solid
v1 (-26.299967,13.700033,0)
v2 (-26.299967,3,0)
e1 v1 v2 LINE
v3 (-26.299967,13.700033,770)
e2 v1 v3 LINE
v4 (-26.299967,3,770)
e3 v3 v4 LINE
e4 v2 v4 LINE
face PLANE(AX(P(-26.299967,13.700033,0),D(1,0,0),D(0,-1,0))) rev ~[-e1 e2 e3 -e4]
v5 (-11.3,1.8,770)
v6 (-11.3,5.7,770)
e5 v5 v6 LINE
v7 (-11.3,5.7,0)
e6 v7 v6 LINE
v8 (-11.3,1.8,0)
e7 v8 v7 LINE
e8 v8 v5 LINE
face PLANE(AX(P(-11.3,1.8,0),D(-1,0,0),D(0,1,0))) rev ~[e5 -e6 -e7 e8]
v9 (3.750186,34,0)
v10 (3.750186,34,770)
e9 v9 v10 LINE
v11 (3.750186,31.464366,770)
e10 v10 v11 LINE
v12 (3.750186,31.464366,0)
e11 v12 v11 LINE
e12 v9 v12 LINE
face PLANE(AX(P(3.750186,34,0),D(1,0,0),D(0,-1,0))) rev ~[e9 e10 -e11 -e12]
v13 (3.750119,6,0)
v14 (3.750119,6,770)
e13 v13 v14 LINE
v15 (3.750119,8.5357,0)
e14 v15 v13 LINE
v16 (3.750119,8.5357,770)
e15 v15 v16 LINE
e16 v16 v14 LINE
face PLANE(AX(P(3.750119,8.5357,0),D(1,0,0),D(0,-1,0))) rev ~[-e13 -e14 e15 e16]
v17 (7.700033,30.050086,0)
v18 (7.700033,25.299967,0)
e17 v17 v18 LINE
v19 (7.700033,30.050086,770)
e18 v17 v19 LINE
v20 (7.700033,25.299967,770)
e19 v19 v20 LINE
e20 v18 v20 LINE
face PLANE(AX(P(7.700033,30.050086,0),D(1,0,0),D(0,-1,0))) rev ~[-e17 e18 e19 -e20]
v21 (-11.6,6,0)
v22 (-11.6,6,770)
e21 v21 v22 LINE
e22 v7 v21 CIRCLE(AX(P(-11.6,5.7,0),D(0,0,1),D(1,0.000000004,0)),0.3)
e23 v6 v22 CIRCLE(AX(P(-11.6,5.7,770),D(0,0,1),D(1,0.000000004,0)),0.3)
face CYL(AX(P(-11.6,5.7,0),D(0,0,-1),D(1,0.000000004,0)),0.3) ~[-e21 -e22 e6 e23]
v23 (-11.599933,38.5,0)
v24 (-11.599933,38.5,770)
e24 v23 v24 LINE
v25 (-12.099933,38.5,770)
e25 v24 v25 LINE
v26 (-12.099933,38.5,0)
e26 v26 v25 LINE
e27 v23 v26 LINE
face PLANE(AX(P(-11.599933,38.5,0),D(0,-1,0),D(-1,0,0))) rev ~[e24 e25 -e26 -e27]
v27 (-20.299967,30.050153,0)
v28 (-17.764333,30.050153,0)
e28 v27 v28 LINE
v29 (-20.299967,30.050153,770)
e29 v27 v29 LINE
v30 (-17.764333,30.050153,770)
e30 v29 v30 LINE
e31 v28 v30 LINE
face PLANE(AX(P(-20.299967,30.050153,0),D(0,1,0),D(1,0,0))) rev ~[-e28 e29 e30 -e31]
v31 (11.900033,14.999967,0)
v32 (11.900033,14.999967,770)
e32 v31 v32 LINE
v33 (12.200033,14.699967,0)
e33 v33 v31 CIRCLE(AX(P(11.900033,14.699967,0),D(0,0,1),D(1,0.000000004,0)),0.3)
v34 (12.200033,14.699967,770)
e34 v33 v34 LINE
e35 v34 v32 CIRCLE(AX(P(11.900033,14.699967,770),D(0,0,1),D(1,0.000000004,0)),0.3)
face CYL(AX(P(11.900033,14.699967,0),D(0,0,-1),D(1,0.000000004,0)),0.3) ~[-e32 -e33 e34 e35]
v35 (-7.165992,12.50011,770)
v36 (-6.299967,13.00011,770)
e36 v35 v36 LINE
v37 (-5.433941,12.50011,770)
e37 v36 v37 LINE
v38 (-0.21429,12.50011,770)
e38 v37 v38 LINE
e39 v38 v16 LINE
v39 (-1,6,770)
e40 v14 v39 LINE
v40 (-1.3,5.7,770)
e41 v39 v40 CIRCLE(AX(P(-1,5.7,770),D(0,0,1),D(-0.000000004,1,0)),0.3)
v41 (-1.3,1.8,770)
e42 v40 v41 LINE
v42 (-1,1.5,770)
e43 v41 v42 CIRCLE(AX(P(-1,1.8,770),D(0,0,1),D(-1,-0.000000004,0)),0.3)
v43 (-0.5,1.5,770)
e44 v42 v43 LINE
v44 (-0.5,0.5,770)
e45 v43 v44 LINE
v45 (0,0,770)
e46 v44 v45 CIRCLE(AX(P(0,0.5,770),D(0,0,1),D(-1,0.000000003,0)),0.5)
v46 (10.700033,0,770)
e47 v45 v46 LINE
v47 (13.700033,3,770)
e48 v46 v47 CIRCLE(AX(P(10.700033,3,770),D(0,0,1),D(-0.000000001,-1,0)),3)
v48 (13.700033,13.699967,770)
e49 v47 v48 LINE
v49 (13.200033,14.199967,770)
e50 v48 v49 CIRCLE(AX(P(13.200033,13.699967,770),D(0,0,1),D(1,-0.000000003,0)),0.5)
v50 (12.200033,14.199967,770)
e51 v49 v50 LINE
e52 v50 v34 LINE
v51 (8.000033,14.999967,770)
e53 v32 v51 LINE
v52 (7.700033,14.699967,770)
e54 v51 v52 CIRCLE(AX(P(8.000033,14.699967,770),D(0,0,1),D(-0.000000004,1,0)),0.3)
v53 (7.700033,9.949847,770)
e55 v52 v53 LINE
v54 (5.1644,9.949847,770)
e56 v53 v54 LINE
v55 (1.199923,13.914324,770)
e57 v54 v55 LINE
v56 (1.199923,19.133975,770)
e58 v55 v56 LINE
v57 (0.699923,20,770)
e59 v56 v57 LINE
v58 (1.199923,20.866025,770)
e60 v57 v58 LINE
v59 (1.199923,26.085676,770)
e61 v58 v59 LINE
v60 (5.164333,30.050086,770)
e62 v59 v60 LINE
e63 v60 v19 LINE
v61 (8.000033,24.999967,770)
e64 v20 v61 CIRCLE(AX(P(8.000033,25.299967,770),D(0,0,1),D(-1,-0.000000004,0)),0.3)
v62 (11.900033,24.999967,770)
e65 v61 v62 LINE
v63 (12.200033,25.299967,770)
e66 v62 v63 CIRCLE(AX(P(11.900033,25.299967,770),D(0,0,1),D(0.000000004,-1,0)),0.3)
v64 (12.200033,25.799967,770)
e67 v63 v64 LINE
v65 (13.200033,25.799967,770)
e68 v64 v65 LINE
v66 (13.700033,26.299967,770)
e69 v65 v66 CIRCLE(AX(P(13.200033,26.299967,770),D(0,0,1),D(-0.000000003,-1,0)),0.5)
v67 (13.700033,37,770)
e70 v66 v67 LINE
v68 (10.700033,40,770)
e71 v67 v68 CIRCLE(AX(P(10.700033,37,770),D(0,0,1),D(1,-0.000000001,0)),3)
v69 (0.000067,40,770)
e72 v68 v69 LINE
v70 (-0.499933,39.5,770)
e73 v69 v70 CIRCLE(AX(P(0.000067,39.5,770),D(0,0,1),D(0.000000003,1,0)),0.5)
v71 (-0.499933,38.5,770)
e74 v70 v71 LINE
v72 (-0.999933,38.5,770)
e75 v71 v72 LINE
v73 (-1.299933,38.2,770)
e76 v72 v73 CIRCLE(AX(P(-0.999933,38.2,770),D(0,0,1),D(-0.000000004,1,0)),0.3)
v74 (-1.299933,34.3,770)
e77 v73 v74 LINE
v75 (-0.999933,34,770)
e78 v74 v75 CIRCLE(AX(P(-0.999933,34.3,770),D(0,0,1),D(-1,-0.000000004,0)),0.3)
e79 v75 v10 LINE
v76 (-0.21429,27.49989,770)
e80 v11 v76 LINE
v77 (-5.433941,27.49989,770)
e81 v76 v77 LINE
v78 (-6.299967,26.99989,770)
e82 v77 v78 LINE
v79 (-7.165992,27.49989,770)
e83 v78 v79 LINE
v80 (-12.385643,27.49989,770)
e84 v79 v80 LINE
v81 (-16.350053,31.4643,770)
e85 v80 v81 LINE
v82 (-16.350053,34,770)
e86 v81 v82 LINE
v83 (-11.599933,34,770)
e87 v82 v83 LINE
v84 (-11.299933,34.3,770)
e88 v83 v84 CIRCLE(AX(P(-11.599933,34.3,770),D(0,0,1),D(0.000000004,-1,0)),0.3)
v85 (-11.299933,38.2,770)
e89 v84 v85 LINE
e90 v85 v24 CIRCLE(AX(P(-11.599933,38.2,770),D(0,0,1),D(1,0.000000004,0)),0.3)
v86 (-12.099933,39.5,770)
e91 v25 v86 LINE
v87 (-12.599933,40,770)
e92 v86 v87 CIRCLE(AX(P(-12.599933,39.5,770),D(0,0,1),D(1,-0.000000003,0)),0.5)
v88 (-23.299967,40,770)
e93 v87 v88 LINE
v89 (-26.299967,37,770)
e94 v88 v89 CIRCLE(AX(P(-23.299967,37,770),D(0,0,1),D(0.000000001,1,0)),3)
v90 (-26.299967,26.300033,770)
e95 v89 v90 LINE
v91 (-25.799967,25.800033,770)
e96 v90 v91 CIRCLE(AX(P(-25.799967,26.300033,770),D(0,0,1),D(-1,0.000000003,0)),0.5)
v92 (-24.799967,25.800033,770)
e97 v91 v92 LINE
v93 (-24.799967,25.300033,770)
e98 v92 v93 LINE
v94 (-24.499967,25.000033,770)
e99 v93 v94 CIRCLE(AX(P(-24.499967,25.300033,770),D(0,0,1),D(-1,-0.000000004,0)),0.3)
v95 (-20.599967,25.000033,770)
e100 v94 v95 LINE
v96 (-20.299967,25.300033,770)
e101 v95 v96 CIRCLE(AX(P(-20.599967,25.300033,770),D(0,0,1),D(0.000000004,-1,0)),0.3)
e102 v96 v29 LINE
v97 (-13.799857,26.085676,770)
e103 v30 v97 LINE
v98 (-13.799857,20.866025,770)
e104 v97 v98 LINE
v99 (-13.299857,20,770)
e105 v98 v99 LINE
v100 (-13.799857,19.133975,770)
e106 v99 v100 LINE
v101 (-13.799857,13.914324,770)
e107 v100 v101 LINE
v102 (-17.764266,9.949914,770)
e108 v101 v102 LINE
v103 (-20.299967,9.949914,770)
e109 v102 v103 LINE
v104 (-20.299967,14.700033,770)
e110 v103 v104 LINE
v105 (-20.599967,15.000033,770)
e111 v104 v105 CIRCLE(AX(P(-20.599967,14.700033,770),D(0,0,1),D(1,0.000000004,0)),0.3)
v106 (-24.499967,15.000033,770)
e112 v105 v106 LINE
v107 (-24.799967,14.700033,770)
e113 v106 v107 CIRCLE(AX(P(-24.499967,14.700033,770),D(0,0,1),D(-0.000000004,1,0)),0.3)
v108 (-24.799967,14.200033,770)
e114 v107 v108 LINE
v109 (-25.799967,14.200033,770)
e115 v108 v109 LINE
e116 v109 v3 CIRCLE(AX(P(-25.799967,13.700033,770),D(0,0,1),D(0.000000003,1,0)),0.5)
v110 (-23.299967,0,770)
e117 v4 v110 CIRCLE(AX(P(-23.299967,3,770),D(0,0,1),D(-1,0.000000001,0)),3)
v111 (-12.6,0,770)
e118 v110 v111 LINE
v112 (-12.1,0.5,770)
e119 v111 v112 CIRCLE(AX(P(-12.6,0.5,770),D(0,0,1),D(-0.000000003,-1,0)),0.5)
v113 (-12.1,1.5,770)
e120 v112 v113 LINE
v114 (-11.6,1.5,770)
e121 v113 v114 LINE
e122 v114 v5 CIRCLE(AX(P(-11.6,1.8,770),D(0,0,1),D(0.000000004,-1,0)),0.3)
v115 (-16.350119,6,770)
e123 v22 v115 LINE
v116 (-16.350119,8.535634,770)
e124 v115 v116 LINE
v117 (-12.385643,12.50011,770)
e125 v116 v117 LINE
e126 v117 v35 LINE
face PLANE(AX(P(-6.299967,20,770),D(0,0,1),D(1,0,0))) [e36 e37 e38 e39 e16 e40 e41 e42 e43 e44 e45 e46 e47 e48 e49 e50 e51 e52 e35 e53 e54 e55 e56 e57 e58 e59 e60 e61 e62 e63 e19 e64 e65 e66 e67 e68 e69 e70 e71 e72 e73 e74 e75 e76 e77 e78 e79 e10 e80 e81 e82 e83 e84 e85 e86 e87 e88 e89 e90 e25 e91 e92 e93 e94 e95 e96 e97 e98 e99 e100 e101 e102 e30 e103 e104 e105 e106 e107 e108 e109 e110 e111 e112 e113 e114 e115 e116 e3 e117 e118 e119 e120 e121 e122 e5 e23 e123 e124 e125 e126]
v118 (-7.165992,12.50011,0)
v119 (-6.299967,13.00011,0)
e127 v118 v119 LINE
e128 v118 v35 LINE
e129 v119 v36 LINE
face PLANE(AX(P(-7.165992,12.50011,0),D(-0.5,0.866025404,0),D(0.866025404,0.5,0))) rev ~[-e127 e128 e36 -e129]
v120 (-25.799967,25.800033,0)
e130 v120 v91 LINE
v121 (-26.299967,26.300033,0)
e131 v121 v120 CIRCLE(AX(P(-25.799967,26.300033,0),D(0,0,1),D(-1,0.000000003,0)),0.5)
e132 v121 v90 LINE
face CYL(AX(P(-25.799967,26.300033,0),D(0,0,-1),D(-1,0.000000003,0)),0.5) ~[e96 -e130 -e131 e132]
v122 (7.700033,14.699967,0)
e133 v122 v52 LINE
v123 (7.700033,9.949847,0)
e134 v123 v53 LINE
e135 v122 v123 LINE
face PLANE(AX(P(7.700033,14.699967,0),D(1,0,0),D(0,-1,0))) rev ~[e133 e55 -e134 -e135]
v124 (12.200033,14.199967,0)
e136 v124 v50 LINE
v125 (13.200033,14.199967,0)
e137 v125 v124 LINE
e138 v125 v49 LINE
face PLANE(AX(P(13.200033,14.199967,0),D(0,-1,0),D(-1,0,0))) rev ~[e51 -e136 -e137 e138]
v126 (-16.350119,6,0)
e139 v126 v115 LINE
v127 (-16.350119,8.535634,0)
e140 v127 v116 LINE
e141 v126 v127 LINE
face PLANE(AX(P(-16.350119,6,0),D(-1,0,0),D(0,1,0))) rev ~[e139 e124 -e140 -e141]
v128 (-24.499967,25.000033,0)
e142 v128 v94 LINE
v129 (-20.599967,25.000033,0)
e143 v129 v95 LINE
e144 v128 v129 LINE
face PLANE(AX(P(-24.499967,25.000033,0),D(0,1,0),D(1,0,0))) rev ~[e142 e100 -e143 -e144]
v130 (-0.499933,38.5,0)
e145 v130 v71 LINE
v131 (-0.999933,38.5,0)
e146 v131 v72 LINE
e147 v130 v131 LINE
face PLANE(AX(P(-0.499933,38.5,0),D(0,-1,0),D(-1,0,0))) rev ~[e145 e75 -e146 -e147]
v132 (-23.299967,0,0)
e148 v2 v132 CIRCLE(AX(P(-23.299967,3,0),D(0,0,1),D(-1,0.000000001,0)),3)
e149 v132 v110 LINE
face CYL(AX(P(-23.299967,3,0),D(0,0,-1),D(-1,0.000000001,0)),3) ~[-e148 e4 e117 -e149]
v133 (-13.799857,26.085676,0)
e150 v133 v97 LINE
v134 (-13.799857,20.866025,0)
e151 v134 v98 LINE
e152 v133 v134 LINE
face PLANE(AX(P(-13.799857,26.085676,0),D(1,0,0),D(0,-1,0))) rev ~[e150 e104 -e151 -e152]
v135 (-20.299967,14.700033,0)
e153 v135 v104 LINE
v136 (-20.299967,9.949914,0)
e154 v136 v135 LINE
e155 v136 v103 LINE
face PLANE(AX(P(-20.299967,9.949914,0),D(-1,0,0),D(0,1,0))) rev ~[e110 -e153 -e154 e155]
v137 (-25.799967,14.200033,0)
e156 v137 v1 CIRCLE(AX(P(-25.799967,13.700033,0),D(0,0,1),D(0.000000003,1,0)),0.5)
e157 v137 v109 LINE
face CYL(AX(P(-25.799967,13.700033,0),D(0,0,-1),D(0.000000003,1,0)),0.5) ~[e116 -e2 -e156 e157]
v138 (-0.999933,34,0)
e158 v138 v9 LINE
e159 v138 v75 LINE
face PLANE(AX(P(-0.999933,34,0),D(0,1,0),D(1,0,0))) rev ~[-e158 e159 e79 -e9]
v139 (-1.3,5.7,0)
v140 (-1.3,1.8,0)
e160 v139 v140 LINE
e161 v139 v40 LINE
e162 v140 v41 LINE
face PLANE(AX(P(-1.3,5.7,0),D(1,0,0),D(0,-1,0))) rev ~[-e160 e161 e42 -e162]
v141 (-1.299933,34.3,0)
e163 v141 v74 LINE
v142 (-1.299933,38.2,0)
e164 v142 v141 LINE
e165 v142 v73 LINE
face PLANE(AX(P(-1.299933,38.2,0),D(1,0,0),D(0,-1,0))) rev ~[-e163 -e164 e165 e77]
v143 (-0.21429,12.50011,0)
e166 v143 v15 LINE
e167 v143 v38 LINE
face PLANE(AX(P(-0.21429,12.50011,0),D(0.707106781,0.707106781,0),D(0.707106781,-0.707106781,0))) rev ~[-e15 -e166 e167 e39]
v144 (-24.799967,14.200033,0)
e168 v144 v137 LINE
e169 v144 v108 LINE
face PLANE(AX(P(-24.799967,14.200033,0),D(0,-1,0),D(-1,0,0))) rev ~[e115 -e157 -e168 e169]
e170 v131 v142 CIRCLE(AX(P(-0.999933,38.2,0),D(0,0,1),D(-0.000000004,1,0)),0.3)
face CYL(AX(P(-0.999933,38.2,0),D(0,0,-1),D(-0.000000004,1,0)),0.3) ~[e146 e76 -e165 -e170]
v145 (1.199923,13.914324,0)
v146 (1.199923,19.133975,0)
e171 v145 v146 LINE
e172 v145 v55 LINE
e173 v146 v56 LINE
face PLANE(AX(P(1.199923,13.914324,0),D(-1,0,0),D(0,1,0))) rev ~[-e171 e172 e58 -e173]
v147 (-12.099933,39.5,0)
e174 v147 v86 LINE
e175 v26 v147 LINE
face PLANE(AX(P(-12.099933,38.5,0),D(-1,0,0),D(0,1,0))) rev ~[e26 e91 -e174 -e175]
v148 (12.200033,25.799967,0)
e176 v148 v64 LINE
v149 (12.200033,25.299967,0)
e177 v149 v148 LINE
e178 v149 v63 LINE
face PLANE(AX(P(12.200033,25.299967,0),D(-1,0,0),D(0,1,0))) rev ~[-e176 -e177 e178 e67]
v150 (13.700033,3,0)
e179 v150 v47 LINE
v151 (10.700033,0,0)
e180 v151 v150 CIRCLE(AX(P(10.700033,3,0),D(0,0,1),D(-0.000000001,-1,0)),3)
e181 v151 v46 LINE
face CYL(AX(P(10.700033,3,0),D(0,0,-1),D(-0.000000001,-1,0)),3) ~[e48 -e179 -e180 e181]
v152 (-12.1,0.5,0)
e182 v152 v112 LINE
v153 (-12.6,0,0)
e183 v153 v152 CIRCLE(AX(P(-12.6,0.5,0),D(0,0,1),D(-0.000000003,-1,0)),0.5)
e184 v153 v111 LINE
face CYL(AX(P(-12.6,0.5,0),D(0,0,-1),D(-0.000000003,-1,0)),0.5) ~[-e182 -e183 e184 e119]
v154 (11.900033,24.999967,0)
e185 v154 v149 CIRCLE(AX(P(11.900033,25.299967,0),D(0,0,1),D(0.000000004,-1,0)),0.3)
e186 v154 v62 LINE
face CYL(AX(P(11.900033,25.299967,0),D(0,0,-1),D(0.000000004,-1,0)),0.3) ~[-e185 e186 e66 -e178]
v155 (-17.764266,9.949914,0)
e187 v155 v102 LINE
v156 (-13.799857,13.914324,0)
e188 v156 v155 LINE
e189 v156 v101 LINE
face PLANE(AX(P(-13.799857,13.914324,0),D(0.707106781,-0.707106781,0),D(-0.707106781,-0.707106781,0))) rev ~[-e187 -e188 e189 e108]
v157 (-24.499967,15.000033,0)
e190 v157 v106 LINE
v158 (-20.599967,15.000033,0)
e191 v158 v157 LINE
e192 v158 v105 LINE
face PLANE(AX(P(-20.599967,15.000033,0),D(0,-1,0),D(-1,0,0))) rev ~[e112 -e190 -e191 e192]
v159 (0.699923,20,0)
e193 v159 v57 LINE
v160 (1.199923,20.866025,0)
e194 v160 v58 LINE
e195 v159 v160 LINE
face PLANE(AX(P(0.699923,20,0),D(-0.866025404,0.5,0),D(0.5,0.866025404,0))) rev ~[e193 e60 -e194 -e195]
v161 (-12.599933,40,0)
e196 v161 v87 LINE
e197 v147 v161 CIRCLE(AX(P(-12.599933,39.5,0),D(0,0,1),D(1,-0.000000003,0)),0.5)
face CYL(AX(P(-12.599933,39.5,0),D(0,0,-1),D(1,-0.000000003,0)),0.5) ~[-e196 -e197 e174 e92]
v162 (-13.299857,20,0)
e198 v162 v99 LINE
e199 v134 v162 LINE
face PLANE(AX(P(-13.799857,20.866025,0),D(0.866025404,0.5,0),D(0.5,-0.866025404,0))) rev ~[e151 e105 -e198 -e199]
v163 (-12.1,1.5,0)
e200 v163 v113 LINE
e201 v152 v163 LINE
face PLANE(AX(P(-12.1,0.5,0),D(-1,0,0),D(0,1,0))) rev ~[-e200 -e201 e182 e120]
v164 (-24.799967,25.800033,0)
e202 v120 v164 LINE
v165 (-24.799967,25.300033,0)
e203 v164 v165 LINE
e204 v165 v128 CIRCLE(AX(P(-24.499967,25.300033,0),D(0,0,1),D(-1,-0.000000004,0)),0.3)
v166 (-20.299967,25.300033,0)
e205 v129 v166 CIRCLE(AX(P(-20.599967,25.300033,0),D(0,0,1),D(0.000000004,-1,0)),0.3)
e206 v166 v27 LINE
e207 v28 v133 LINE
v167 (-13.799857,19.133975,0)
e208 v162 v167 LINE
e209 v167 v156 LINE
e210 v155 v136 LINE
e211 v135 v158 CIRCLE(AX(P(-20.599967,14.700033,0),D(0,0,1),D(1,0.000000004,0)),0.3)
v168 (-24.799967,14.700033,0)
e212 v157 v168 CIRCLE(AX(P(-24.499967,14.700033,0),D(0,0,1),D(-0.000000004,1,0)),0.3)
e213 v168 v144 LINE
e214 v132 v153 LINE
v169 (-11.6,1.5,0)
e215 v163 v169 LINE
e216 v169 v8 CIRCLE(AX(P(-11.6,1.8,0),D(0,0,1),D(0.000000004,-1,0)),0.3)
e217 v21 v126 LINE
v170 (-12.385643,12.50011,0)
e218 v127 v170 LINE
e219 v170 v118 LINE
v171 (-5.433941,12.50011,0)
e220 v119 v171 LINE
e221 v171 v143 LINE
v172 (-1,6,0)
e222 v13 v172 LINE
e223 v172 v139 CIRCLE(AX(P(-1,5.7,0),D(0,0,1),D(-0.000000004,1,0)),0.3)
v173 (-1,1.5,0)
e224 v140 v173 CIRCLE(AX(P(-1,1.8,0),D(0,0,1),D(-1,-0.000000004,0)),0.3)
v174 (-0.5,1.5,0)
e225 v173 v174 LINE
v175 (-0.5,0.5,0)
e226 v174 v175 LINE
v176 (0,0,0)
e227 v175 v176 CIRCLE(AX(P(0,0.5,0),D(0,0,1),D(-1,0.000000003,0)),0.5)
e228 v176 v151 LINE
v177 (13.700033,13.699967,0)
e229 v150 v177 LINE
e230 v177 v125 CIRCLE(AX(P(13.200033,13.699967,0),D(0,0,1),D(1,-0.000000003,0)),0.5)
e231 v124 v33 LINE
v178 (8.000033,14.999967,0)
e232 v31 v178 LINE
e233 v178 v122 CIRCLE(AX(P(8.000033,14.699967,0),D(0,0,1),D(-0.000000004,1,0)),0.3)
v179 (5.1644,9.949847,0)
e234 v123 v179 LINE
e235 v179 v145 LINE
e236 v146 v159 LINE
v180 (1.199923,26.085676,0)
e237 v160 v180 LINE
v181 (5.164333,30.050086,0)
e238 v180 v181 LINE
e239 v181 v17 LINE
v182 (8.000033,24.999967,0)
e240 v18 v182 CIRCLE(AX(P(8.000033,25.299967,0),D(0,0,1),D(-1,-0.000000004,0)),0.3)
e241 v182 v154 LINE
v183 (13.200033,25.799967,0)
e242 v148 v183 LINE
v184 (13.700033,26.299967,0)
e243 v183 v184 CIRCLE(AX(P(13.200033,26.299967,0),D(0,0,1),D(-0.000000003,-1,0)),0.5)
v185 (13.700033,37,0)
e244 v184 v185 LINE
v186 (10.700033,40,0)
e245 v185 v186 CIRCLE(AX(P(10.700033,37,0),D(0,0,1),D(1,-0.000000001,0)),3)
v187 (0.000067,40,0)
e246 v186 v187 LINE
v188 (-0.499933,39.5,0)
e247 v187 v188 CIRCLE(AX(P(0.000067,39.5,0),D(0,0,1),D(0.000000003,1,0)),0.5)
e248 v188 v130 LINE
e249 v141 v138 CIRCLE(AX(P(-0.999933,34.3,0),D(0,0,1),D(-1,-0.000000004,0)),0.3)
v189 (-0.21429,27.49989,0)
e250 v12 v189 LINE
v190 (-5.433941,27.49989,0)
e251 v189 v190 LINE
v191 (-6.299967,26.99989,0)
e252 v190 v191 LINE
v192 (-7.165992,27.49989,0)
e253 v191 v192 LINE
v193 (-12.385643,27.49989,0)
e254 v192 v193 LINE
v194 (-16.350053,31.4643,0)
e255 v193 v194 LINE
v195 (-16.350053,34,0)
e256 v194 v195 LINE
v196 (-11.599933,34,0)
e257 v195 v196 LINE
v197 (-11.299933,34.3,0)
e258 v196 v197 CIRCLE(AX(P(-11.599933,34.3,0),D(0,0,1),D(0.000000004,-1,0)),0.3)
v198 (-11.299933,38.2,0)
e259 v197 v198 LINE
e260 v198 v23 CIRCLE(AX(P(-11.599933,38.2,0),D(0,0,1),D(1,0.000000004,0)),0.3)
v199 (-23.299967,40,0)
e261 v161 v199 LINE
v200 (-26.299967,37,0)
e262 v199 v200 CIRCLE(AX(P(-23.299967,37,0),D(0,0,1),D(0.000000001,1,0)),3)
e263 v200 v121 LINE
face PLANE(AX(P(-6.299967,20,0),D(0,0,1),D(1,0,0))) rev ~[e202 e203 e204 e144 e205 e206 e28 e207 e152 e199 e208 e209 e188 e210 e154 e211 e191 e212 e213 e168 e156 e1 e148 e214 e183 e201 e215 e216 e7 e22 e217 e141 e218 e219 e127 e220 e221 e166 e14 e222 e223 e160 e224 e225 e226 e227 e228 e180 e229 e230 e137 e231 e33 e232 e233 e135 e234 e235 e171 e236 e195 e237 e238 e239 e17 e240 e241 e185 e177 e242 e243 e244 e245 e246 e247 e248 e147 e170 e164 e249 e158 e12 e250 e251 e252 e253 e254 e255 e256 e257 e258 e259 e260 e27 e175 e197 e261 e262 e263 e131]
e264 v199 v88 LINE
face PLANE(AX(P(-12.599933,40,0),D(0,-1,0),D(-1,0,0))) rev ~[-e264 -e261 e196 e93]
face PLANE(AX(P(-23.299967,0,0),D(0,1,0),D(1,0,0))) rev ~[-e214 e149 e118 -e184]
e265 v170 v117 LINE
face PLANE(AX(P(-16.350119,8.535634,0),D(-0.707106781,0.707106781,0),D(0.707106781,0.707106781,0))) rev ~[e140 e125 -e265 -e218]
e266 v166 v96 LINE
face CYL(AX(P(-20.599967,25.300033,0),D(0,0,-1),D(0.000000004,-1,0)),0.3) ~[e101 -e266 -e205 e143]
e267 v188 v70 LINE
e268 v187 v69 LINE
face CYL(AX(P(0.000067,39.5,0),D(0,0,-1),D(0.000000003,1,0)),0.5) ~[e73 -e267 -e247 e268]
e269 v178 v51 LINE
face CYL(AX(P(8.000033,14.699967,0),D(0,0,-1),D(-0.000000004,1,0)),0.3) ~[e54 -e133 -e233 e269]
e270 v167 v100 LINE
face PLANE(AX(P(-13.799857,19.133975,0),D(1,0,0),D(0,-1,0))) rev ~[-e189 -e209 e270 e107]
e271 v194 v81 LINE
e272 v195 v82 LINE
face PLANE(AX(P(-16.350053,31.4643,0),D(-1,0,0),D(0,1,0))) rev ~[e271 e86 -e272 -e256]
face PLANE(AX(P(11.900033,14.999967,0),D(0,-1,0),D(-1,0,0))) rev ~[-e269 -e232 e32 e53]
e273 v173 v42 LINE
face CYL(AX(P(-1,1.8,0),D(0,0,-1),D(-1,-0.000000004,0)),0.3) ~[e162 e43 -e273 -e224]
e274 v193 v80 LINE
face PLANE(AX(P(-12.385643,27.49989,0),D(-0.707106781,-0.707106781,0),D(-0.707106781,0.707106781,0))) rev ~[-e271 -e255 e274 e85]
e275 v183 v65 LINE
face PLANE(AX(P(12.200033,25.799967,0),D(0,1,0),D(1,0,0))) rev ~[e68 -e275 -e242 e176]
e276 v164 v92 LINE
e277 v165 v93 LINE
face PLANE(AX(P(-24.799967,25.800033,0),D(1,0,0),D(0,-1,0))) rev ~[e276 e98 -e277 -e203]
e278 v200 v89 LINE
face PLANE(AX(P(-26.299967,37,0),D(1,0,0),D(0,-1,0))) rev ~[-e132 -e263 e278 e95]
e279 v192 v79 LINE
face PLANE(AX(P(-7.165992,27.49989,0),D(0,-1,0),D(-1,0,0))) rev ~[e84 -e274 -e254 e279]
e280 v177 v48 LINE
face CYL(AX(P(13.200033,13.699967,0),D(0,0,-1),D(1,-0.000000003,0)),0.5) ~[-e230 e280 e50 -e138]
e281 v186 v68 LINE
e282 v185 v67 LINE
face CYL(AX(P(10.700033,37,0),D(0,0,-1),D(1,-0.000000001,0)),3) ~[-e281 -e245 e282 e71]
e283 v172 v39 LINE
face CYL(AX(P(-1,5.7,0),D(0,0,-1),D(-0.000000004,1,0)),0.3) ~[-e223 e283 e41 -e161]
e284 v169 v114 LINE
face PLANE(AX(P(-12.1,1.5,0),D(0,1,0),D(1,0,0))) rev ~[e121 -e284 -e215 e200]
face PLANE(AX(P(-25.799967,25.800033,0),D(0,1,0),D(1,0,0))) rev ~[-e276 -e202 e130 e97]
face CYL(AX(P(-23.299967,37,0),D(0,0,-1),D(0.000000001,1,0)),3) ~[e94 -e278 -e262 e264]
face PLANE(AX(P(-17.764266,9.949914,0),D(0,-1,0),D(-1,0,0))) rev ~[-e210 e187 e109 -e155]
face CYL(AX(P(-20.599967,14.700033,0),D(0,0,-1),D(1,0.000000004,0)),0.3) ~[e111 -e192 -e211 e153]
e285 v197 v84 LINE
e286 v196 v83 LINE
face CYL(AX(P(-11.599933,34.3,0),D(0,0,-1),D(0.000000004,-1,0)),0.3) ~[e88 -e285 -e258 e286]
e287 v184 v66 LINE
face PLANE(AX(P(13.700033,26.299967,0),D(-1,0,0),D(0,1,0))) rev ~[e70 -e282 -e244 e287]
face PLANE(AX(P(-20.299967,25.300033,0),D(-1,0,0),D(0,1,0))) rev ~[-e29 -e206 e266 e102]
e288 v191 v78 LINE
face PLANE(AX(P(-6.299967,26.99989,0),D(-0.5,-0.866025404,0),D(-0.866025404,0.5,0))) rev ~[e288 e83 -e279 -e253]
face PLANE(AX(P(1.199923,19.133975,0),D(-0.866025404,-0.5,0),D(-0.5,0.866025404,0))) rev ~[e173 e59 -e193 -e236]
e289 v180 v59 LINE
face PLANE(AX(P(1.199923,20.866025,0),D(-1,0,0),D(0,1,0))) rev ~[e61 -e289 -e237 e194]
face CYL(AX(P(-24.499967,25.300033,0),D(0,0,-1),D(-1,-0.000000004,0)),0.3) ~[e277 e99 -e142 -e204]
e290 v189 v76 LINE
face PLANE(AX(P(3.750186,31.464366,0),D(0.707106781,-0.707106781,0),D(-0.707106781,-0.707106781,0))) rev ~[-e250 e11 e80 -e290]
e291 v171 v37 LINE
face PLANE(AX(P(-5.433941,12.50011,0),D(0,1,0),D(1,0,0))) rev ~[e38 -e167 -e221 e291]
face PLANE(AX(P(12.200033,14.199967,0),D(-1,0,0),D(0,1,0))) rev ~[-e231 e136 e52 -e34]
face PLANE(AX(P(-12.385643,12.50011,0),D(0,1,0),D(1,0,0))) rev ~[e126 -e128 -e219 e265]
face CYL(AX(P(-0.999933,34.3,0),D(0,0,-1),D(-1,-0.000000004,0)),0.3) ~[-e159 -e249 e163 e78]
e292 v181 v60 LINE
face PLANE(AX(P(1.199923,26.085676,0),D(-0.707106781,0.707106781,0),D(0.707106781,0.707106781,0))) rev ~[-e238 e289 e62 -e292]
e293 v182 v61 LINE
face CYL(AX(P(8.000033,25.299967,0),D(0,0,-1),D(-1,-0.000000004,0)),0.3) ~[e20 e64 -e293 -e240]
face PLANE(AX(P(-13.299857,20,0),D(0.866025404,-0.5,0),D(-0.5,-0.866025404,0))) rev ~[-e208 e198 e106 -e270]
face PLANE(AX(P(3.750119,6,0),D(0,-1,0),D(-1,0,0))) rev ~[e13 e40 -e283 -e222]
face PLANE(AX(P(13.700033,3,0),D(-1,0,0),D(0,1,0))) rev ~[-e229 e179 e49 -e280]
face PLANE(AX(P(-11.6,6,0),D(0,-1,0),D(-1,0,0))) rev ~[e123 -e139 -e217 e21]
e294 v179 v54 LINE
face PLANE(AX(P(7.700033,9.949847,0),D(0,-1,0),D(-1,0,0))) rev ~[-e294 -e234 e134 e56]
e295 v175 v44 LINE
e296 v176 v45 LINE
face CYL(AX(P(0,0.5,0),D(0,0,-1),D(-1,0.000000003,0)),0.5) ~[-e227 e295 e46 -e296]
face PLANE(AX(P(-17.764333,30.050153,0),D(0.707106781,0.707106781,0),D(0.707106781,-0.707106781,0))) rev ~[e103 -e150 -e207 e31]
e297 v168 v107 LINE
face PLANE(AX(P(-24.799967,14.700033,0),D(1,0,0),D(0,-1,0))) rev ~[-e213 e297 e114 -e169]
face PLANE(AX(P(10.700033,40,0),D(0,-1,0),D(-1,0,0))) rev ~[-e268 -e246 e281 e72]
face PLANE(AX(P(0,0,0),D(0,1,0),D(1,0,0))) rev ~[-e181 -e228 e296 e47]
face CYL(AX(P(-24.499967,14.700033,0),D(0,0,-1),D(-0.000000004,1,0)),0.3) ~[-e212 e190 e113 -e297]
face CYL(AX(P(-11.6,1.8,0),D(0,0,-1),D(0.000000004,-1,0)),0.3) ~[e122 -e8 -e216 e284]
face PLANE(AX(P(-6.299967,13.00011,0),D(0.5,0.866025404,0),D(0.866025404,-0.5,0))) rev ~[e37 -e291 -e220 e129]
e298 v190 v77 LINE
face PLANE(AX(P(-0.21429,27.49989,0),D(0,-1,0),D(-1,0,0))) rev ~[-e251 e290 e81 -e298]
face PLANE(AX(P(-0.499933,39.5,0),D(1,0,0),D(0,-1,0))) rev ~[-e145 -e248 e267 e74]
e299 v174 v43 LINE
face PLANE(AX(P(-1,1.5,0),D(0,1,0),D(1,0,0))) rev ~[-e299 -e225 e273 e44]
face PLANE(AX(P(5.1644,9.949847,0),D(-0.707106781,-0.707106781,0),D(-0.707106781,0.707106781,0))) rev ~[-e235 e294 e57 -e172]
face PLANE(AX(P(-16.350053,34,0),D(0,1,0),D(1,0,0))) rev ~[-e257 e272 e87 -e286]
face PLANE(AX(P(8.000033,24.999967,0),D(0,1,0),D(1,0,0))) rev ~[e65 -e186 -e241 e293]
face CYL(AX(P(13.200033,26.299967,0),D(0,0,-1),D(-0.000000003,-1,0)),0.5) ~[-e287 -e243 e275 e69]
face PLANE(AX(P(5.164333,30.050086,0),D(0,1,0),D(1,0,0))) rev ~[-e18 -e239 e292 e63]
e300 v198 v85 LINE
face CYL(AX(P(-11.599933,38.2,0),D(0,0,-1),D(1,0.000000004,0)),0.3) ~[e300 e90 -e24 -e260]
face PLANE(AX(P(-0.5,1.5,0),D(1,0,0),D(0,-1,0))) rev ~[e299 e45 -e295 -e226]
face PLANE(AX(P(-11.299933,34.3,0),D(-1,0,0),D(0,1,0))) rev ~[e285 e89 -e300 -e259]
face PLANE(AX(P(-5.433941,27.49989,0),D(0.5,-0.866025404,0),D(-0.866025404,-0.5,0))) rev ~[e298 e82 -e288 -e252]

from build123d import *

# Parameters (mm, degrees)
BOSS_EXTRUDE1_DEPTH = 770


with BuildPart() as part:
    # Sketch2 → Boss-Extrude1 (new body)
    with BuildSketch(Plane.XY):
        with BuildLine():
            Line((-20.29996667, 9.949913991), (-20.29996667, 14.70003333))
            ThreePointArc((-20.29996667, 14.70003333), (-20.387834636, 14.912165364), (-20.59996667, 15.00003333))
            Line((-20.59996667, 15.00003333), (-24.49996667, 15.00003333))
            ThreePointArc((-24.49996667, 15.00003333), (-24.712098704, 14.912165364), (-24.79996667, 14.70003333))
            Line((-24.79996667, 14.70003333), (-24.79996667, 14.20003333))
            Line((-24.79996667, 14.20003333), (-25.79996667, 14.20003333))
            ThreePointArc((-25.79996667, 14.20003333), (-26.153520061, 14.053586721), (-26.29996667, 13.70003333))
            Line((-26.29996667, 13.70003333), (-26.29996667, 3))
            ThreePointArc((-26.29996667, 3), (-25.421287014, 0.878679656), (-23.29996667, 0))
            Line((-23.29996667, 0), (-12.6, 0))
            ThreePointArc((-12.6, 0), (-12.246446609, 0.146446609), (-12.1, 0.5))
            Line((-12.1, 0.5), (-12.1, 1.5))
            Line((-12.1, 1.5), (-11.6, 1.5))
            ThreePointArc((-11.6, 1.5), (-11.387867966, 1.587867966), (-11.3, 1.8))
            Line((-11.3, 1.8), (-11.3, 5.7))
            ThreePointArc((-11.3, 5.7), (-11.387867966, 5.912132034), (-11.6, 6))
            Line((-11.6, 6), (-16.350119339, 6))
            Line((-16.350119339, 6), (-16.350119339, 8.535633769))
            Line((-16.350119339, 8.535633769), (-12.385643087, 12.500110021))
            Line((-12.385643087, 12.500110021), (-7.165992074, 12.500110021))
            Line((-7.165992074, 12.500110021), (-6.29996667, 13.000110021))
            Line((-6.29996667, 13.000110021), (-5.433941266, 12.500110021))
            Line((-5.433941266, 12.500110021), (-0.214290253, 12.500110021))
            Line((-0.214290253, 12.500110021), (3.750119339, 8.535700429))
            Line((3.750119339, 8.535700429), (3.750119339, 6))
            Line((3.750119339, 6), (-1, 6))
            ThreePointArc((-1, 6), (-1.212132034, 5.912132034), (-1.3, 5.7))
            Line((-1.3, 5.7), (-1.3, 1.8))
            ThreePointArc((-1.3, 1.8), (-1.212132034, 1.587867966), (-1, 1.5))
            Line((-1, 1.5), (-0.5, 1.5))
            Line((-0.5, 1.5), (-0.5, 0.5))
            ThreePointArc((-0.5, 0.5), (-0.353553391, 0.146446609), (0, 0))
            Line((0, 0), (10.70003333, 0))
            ThreePointArc((10.70003333, 0), (12.821353674, 0.878679656), (13.70003333, 3))
            Line((13.70003333, 3), (13.70003333, 13.69996667))
            ThreePointArc((13.70003333, 13.69996667), (13.553586721, 14.053520061), (13.20003333, 14.19996667))
            Line((13.20003333, 14.19996667), (12.20003333, 14.19996667))
            Line((12.20003333, 14.19996667), (12.20003333, 14.69996667))
            ThreePointArc((12.20003333, 14.69996667), (12.112165364, 14.912098704), (11.90003333, 14.99996667))
            Line((11.90003333, 14.99996667), (8.00003333, 14.99996667))
            ThreePointArc((8.00003333, 14.99996667), (7.787901296, 14.912098704), (7.70003333, 14.69996667))
            Line((7.70003333, 14.69996667), (7.70003333, 9.949847331))
            Line((7.70003333, 9.949847331), (5.164399561, 9.949847331))
            Line((5.164399561, 9.949847331), (1.199923309, 13.914323583))
            Line((1.199923309, 13.914323583), (1.199923309, 19.133974596))
            Line((1.199923309, 19.133974596), (0.699923309, 20))
            Line((0.699923309, 20), (1.199923309, 20.866025404))
            Line((1.199923309, 20.866025404), (1.199923309, 26.085676417))
            Line((1.199923309, 26.085676417), (5.164332901, 30.050086009))
            Line((5.164332901, 30.050086009), (7.70003333, 30.050086009))
            Line((7.70003333, 30.050086009), (7.70003333, 25.29996667))
            ThreePointArc((7.70003333, 25.29996667), (7.787901296, 25.087834636), (8.00003333, 24.99996667))
            Line((8.00003333, 24.99996667), (11.90003333, 24.99996667))
            ThreePointArc((11.90003333, 24.99996667), (12.112165364, 25.087834636), (12.20003333, 25.29996667))
            Line((12.20003333, 25.29996667), (12.20003333, 25.79996667))
            Line((12.20003333, 25.79996667), (13.20003333, 25.79996667))
            ThreePointArc((13.20003333, 25.79996667), (13.553586721, 25.946413279), (13.70003333, 26.29996667))
            Line((13.70003333, 26.29996667), (13.70003333, 37))
            ThreePointArc((13.70003333, 37), (12.821353674, 39.121320344), (10.70003333, 40))
            Line((10.70003333, 40), (6.666e-05, 40))
            ThreePointArc((6.666e-05, 40), (-0.353486731, 39.853553391), (-0.49993334, 39.5))
            Line((-0.49993334, 39.5), (-0.49993334, 38.5))
            Line((-0.49993334, 38.5), (-0.99993334, 38.5))
            ThreePointArc((-0.99993334, 38.5), (-1.212065374, 38.412132034), (-1.29993334, 38.2))
            Line((-1.29993334, 38.2), (-1.29993334, 34.3))
            ThreePointArc((-1.29993334, 34.3), (-1.212065374, 34.087867966), (-0.99993334, 34))
            Line((-0.99993334, 34), (3.750185999, 34))
            Line((3.750185999, 34), (3.750185999, 31.464366231))
            Line((3.750185999, 31.464366231), (-0.214290253, 27.499889979))
            Line((-0.214290253, 27.499889979), (-5.433941266, 27.499889979))
            Line((-5.433941266, 27.499889979), (-6.29996667, 26.999889979))
            Line((-6.29996667, 26.999889979), (-7.165992074, 27.499889979))
            Line((-7.165992074, 27.499889979), (-12.385643087, 27.499889979))
            Line((-12.385643087, 27.499889979), (-16.350052679, 31.464299571))
            Line((-16.350052679, 31.464299571), (-16.350052679, 34))
            Line((-16.350052679, 34), (-11.59993334, 34))
            ThreePointArc((-11.59993334, 34), (-11.387801306, 34.087867966), (-11.29993334, 34.3))
            Line((-11.29993334, 34.3), (-11.29993334, 38.2))
            ThreePointArc((-11.29993334, 38.2), (-11.387801306, 38.412132034), (-11.59993334, 38.5))
            Line((-11.59993334, 38.5), (-12.09993334, 38.5))
            Line((-12.09993334, 38.5), (-12.09993334, 39.5))
            ThreePointArc((-12.09993334, 39.5), (-12.246379949, 39.853553391), (-12.59993334, 40))
            Line((-12.59993334, 40), (-23.29996667, 40))
            ThreePointArc((-23.29996667, 40), (-25.421287014, 39.121320344), (-26.29996667, 37))
            Line((-26.29996667, 37), (-26.29996667, 26.30003333))
            ThreePointArc((-26.29996667, 26.30003333), (-26.153520061, 25.946479939), (-25.79996667, 25.80003333))
            Line((-25.79996667, 25.80003333), (-24.79996667, 25.80003333))
            Line((-24.79996667, 25.80003333), (-24.79996667, 25.30003333))
            ThreePointArc((-24.79996667, 25.30003333), (-24.712098704, 25.087901296), (-24.49996667, 25.00003333))
            Line((-24.49996667, 25.00003333), (-20.59996667, 25.00003333))
            ThreePointArc((-20.59996667, 25.00003333), (-20.387834636, 25.087901296), (-20.29996667, 25.30003333))
            Line((-20.29996667, 25.30003333), (-20.29996667, 30.050152669))
            Line((-20.29996667, 30.050152669), (-17.764332901, 30.050152669))
            Line((-17.764332901, 30.050152669), (-13.799856649, 26.085676417))
            Line((-13.799856649, 26.085676417), (-13.799856649, 20.866025404))
            Line((-13.799856649, 20.866025404), (-13.299856649, 20))
            Line((-13.299856649, 20), (-13.799856649, 19.133974596))
            Line((-13.799856649, 19.133974596), (-13.799856649, 13.914323583))
            Line((-13.799856649, 13.914323583), (-17.764266241, 9.949913991))
            Line((-17.764266241, 9.949913991), (-20.29996667, 9.949913991))
        make_face()
    extrude(amount=BOSS_EXTRUDE1_DEPTH)


solid = part.part
